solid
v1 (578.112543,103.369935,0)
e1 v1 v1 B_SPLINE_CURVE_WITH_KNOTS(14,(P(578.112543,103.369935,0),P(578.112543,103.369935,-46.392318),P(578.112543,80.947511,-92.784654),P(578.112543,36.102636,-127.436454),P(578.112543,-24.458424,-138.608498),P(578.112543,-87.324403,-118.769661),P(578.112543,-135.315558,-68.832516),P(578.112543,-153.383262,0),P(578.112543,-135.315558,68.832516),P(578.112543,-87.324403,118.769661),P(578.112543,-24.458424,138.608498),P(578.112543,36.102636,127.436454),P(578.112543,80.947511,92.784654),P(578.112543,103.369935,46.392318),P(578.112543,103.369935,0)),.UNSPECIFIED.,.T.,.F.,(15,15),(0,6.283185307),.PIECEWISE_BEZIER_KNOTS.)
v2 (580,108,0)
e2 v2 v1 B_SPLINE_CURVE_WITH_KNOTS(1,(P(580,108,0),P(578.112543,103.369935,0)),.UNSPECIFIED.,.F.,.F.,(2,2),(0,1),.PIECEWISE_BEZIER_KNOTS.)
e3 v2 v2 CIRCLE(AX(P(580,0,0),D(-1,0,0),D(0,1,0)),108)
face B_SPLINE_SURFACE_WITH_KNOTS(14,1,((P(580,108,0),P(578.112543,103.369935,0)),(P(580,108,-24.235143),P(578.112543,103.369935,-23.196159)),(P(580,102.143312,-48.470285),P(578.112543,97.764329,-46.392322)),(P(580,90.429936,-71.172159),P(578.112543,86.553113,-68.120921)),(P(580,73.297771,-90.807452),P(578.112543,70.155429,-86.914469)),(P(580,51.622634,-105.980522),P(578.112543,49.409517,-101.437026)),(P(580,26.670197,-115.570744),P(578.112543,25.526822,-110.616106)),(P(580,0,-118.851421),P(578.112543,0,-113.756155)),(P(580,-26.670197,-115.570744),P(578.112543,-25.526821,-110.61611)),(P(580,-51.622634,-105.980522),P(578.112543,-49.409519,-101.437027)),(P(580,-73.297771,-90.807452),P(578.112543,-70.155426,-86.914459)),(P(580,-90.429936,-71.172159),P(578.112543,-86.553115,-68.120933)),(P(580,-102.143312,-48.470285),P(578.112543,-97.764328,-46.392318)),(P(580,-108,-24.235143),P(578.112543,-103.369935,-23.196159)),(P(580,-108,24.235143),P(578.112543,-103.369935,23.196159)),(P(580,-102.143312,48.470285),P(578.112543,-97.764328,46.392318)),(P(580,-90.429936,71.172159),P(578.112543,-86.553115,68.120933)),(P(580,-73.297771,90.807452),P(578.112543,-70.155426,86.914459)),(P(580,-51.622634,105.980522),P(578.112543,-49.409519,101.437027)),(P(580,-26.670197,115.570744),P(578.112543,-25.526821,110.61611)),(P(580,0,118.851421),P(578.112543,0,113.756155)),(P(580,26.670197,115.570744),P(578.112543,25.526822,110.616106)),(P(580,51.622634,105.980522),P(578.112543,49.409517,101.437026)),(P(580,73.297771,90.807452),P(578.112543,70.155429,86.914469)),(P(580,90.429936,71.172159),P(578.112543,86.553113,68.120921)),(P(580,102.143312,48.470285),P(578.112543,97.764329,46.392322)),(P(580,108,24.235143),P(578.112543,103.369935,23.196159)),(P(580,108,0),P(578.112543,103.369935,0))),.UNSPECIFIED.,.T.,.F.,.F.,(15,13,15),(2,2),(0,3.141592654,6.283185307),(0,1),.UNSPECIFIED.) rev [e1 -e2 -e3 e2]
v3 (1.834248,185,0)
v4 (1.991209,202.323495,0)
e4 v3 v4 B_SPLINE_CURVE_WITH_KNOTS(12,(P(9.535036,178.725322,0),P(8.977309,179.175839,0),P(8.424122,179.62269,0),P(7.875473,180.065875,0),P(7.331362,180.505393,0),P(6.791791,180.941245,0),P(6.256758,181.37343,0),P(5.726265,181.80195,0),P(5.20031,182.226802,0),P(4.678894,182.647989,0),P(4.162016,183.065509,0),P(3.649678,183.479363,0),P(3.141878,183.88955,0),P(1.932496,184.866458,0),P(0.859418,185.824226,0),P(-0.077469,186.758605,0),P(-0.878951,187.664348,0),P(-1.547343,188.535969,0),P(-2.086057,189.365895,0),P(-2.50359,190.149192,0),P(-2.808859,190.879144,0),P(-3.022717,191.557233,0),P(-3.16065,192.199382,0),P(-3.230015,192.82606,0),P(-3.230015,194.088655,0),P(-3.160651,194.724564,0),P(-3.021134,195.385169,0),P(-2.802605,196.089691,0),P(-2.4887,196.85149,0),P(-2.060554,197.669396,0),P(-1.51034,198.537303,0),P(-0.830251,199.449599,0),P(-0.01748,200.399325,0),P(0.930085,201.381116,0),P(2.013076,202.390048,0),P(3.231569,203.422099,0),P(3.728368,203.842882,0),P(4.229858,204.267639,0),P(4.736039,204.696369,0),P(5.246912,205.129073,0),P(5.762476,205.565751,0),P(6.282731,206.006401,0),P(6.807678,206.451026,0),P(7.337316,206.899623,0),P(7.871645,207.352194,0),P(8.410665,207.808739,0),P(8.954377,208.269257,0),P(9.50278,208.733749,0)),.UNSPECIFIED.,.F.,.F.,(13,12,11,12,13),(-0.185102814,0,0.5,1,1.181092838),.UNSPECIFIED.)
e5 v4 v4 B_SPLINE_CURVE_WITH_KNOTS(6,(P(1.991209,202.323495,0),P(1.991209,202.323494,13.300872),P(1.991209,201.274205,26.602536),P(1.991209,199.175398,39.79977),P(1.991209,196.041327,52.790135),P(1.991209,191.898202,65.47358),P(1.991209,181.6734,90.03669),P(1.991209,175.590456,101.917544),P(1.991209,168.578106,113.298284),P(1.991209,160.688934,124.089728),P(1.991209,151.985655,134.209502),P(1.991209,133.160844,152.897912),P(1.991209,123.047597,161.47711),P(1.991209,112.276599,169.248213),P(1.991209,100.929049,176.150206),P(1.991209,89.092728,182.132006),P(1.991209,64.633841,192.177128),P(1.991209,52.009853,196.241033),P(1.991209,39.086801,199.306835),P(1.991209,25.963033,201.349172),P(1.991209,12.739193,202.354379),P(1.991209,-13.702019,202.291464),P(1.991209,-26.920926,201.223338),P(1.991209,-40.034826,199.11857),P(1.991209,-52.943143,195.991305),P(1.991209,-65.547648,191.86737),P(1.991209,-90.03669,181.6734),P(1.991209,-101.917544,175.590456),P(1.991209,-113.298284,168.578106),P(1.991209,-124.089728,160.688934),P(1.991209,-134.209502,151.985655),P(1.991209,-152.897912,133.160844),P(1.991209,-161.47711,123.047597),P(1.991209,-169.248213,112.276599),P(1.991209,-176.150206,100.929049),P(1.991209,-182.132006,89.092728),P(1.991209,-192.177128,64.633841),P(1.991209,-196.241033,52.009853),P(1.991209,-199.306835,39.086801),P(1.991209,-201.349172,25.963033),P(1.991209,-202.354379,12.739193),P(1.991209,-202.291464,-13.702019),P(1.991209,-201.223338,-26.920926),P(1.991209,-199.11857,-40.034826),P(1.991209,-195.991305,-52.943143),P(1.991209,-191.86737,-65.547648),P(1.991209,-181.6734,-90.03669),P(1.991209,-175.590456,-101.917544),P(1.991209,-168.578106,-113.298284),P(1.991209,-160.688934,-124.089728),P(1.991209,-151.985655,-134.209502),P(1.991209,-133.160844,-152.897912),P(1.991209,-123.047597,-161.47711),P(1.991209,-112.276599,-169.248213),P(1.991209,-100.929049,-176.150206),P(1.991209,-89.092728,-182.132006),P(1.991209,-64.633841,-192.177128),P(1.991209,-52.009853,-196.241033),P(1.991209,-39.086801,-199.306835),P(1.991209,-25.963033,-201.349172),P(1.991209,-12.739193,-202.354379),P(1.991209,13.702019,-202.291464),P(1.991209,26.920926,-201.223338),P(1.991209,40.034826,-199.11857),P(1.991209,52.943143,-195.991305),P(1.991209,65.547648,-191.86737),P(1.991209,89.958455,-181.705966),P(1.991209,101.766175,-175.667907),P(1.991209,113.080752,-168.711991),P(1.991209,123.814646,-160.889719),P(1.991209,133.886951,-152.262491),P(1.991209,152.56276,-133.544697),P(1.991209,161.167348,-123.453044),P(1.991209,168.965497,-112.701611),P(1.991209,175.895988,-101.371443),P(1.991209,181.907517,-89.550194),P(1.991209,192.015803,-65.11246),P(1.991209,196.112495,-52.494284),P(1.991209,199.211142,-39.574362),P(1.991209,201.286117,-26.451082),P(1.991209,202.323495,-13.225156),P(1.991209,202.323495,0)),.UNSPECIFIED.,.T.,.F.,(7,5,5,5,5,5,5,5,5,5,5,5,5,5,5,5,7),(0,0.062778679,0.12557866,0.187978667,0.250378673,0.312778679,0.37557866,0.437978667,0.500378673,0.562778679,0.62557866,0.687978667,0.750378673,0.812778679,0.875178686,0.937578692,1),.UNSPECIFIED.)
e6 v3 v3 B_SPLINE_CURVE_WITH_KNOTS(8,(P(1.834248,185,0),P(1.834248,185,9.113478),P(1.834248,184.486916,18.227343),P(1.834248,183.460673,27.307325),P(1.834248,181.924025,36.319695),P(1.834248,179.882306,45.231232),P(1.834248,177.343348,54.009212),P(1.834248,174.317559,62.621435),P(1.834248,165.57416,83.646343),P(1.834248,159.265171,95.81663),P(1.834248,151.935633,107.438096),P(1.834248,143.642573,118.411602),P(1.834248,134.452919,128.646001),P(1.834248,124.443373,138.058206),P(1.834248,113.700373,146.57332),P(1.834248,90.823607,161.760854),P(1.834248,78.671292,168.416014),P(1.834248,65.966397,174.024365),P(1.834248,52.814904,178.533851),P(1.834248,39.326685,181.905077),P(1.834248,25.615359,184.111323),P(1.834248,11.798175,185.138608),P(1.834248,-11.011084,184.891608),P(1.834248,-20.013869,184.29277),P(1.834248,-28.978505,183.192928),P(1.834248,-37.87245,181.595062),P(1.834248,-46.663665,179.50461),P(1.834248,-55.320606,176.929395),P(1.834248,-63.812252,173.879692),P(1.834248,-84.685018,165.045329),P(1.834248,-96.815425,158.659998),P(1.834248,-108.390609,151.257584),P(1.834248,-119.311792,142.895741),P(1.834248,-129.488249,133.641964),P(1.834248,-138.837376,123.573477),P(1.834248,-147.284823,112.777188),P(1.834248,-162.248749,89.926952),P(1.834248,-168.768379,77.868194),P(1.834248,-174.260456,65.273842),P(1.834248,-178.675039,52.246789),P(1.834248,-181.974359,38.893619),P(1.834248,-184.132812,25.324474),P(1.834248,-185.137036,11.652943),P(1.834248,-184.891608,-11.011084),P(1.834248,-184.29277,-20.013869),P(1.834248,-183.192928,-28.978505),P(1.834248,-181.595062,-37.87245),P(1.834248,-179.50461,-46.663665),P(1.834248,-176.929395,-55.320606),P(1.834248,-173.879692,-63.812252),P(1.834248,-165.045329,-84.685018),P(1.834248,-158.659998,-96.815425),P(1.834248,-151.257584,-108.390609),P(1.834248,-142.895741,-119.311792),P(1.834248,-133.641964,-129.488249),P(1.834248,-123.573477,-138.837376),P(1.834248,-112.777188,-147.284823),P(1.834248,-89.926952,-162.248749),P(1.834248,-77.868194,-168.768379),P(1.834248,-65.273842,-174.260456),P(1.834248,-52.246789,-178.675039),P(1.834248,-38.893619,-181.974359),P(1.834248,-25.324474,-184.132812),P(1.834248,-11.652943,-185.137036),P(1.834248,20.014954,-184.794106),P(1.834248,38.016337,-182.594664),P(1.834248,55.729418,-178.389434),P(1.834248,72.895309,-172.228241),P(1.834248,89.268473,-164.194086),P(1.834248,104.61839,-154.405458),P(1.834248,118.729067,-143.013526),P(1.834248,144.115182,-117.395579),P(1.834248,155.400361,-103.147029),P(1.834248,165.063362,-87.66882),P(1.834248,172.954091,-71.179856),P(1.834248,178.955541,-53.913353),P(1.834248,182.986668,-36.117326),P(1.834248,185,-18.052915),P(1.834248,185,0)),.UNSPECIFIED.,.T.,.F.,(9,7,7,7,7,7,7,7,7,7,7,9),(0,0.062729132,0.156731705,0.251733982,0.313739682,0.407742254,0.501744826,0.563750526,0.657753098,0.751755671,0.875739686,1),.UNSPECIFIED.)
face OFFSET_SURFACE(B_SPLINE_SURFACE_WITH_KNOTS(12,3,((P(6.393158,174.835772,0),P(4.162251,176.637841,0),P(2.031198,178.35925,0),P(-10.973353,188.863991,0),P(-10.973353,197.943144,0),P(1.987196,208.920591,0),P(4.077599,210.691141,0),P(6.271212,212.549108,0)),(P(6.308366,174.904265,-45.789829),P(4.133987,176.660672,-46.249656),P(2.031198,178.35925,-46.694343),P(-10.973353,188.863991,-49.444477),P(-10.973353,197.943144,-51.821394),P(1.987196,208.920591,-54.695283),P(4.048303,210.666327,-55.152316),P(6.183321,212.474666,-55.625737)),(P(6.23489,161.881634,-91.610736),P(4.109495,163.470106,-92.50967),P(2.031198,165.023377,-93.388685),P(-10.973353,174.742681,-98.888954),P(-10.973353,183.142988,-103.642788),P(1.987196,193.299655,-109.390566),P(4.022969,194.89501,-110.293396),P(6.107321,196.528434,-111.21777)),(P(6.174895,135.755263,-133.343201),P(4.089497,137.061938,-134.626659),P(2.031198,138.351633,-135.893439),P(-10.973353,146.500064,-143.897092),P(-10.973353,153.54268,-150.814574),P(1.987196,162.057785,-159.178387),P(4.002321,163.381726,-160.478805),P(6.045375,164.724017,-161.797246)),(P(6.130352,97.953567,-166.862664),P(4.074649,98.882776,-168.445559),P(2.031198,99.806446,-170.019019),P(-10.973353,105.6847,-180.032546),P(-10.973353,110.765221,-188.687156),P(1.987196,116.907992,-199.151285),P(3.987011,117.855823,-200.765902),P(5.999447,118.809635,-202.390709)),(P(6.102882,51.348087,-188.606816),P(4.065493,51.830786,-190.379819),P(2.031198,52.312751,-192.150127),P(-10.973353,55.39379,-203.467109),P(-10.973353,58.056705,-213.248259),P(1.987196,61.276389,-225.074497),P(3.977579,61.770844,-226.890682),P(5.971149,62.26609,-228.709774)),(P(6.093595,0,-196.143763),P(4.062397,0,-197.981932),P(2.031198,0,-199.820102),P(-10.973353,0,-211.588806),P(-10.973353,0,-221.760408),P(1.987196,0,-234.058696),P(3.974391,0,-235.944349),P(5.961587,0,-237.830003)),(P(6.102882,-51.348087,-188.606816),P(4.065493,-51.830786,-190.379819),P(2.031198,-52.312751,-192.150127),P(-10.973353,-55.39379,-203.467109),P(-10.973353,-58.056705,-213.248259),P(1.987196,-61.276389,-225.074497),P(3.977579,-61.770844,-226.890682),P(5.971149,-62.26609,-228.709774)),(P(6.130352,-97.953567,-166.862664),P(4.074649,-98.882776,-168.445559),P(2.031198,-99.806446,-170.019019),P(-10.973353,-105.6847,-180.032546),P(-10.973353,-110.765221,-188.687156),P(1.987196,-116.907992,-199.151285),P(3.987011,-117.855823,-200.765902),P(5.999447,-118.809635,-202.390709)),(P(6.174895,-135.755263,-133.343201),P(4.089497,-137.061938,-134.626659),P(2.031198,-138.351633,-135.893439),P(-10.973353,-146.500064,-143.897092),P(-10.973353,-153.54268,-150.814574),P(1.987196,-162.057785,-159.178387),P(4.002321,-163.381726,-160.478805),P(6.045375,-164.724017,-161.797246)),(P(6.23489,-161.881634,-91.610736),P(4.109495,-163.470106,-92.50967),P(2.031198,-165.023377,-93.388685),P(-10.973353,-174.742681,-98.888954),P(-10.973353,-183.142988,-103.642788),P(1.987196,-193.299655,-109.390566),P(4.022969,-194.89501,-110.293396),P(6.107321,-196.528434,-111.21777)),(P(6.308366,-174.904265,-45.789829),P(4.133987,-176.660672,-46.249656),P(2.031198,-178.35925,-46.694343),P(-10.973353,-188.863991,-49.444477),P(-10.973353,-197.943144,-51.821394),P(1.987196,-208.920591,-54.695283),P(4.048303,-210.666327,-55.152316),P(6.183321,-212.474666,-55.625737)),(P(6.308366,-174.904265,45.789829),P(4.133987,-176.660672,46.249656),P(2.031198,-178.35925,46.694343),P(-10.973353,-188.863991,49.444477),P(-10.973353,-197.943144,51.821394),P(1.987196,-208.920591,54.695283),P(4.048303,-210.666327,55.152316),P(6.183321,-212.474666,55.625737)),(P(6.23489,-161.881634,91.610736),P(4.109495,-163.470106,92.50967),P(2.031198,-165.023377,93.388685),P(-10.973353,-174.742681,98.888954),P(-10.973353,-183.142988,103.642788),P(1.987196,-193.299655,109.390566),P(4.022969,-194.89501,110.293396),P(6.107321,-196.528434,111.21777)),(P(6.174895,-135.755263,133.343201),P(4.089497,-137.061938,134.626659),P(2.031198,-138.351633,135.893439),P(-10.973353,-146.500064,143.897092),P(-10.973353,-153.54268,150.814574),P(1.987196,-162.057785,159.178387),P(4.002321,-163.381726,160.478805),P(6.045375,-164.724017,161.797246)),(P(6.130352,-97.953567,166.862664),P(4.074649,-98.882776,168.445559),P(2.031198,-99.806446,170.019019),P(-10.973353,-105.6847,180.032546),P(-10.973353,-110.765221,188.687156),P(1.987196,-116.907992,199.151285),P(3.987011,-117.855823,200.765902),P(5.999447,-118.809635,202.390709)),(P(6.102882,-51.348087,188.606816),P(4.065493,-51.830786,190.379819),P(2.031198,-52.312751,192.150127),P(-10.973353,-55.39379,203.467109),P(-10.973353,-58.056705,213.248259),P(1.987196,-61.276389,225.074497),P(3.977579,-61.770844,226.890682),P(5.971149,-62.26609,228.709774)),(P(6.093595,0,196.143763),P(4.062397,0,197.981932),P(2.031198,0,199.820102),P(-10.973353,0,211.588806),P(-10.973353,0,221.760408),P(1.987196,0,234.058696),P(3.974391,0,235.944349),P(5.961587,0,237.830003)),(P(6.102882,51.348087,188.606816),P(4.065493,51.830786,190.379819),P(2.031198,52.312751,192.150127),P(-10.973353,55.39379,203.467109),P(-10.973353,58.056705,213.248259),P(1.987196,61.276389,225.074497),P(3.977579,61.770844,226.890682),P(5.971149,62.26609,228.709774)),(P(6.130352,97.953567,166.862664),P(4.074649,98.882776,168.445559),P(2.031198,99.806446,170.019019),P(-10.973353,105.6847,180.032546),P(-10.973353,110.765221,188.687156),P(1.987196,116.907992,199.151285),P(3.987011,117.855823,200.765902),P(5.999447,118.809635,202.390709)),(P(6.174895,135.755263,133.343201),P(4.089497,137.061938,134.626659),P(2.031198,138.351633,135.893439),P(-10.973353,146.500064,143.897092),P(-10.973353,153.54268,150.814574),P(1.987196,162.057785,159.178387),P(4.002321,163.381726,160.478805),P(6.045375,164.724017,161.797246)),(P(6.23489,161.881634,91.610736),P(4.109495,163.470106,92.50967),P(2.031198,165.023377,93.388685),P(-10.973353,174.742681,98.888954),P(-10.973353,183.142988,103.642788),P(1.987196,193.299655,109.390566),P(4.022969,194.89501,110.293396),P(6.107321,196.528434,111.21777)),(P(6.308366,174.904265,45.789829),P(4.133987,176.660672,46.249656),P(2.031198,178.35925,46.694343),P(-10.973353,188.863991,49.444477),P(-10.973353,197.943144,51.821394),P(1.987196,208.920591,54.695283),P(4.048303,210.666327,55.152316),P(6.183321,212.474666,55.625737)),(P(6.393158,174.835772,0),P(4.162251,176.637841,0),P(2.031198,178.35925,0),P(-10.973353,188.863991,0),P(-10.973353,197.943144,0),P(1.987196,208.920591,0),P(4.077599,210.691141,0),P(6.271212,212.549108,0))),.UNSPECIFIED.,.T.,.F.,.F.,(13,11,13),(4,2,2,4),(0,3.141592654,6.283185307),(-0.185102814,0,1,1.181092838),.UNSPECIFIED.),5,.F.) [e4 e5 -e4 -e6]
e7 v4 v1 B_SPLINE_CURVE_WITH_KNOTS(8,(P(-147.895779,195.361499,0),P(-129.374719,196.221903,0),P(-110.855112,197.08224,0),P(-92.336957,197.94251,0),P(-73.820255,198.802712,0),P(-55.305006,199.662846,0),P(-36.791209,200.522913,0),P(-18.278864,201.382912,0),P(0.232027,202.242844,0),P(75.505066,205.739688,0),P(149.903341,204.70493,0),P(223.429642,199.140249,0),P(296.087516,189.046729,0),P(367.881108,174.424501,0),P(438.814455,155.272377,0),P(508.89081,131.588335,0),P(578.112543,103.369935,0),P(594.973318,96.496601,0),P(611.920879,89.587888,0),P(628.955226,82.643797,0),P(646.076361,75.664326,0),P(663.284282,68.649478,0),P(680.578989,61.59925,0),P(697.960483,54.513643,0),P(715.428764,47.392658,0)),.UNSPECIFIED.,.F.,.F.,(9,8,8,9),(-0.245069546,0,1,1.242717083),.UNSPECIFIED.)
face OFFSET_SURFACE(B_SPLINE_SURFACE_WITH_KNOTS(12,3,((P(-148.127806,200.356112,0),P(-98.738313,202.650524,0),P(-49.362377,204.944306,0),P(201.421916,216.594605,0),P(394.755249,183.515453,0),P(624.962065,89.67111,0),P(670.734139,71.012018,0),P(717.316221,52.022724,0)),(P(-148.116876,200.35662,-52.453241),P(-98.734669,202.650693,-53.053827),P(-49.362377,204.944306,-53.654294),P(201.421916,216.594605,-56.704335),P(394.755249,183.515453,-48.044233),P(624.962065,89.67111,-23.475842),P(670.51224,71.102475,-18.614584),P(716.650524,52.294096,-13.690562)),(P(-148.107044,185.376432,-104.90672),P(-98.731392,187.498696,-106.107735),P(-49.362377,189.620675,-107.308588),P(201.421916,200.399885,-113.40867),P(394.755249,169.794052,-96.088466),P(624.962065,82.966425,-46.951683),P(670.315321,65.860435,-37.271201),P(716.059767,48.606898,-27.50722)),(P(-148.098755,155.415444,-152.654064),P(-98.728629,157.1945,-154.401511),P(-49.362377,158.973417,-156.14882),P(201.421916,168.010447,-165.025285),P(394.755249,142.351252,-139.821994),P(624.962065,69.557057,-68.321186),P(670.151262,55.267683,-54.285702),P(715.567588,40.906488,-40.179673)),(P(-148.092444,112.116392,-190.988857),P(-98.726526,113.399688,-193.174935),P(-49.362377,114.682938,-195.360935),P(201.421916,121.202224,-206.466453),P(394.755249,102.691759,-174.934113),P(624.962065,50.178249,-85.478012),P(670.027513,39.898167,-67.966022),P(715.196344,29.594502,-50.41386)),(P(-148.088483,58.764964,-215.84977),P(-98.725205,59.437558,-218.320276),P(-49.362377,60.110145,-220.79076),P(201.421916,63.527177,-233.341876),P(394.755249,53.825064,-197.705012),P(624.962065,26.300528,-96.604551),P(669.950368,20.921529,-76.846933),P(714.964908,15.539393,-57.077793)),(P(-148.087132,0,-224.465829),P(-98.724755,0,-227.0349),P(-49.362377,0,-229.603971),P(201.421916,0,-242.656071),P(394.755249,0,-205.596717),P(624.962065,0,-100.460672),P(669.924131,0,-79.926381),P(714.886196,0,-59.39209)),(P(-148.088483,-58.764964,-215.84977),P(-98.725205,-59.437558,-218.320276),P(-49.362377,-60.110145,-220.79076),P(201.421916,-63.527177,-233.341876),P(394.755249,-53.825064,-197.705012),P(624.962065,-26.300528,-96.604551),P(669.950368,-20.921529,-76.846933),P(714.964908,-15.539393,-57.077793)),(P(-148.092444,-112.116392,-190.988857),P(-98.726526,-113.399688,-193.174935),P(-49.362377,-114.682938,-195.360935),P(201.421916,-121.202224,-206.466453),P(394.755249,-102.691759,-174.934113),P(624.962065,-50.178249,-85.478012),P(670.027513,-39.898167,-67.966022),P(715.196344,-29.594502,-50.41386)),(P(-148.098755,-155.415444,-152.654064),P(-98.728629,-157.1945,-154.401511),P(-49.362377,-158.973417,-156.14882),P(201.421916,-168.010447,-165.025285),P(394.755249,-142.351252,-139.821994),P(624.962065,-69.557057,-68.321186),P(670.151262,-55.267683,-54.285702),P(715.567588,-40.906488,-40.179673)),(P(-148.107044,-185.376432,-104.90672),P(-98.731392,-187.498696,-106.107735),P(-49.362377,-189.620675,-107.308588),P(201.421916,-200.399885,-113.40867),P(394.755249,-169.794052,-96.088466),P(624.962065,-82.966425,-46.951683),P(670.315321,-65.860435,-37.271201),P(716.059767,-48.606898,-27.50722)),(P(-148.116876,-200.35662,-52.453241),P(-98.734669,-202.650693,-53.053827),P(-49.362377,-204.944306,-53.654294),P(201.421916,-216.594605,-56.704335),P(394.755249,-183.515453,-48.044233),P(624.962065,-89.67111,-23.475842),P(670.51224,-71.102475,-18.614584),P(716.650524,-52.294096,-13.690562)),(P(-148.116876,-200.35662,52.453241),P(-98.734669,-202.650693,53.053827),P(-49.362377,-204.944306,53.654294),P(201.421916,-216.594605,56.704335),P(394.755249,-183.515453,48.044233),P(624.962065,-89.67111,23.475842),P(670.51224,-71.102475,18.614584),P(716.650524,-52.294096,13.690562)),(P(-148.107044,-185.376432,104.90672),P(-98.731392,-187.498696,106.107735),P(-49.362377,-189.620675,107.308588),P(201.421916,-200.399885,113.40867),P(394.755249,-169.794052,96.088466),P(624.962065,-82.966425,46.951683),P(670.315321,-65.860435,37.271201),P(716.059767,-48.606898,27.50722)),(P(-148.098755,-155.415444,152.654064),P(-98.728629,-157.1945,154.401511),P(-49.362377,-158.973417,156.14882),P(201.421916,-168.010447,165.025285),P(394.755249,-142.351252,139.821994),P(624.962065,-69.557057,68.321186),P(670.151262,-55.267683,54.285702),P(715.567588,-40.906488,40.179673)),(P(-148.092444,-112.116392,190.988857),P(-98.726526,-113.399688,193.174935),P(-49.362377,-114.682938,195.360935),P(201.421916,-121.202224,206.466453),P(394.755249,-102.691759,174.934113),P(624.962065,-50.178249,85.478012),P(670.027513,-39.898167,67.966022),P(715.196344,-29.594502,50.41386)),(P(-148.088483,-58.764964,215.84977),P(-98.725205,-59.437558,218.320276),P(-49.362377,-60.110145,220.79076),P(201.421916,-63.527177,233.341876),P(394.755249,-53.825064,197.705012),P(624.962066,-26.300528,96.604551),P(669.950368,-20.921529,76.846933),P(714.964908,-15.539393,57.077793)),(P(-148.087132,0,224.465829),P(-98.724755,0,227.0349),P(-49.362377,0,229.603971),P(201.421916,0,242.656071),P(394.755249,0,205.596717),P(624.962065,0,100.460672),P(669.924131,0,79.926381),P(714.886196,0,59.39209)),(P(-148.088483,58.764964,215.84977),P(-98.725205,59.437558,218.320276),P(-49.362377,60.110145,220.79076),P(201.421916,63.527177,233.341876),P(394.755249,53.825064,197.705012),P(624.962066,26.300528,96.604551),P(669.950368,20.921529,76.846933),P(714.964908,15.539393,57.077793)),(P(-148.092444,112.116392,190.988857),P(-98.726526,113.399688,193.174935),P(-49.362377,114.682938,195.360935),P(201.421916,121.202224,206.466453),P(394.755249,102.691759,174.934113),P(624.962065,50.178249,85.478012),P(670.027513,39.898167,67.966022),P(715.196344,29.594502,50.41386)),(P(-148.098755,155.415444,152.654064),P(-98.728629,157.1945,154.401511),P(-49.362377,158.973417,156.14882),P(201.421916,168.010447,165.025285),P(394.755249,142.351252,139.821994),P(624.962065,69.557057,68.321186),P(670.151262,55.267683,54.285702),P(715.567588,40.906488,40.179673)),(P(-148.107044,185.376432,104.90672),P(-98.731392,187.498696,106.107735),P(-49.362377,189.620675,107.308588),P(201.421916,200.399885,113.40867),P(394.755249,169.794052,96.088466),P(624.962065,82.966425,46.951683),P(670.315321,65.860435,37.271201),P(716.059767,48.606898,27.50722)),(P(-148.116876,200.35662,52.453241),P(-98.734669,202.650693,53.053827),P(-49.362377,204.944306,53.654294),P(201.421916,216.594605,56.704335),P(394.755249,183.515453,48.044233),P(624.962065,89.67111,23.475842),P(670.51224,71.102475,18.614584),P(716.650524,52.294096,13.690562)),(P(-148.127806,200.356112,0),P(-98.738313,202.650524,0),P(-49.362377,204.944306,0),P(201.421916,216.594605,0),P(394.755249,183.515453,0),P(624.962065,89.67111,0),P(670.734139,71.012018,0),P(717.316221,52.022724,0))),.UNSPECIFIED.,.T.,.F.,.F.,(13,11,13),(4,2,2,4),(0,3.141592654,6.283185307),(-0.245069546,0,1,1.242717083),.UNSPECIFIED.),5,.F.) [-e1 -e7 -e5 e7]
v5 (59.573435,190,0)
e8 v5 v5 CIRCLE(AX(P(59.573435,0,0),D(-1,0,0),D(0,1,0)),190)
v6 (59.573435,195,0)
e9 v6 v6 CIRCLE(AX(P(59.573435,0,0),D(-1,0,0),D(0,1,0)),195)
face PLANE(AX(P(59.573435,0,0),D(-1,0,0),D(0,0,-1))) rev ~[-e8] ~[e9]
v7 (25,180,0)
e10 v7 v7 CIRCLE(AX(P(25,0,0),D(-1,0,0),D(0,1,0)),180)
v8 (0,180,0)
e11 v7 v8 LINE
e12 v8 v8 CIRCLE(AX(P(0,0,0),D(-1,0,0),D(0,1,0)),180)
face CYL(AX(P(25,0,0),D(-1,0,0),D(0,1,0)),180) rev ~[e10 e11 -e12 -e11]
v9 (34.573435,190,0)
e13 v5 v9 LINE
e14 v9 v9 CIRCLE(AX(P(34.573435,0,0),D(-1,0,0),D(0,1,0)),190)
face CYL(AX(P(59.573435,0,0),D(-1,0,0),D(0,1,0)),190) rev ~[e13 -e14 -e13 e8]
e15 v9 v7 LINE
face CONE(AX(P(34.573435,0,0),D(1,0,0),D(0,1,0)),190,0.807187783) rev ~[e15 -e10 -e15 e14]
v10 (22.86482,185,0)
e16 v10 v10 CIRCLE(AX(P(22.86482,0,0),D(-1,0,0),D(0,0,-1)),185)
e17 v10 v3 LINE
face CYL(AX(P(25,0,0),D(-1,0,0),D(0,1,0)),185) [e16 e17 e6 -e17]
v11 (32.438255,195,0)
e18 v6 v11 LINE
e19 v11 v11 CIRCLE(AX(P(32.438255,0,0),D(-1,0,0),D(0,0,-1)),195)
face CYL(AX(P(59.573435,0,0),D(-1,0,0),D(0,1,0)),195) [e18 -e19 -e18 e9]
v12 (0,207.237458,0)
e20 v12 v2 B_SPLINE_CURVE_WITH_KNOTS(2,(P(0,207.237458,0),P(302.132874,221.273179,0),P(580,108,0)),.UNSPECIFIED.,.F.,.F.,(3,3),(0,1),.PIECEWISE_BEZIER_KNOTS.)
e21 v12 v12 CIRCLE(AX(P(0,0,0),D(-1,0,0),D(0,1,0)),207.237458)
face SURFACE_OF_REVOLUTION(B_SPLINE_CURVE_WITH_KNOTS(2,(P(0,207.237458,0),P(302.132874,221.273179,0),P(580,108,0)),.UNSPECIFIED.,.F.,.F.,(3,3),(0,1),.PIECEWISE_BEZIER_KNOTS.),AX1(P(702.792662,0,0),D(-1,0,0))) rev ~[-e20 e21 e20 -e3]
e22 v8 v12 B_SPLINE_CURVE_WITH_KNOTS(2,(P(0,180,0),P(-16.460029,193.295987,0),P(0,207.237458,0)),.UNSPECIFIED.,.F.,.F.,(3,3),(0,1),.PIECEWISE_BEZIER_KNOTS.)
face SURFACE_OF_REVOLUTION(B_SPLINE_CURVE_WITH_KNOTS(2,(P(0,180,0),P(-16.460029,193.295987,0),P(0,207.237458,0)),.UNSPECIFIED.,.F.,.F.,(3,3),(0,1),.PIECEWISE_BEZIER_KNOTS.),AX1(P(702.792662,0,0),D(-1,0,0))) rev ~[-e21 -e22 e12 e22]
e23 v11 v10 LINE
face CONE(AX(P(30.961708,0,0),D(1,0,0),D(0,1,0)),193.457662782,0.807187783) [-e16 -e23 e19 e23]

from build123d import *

# Parameters (mm, degrees)
ESPESSAMENTO1_T1 = 5


with BuildPart() as body_1:
    # Superf_cie-Revolu_o1: a surface, the sketch's curves turned about an axis
    with BuildLine(Plane.XY, mode=Mode.PRIVATE) as superf_cie_revolu_o1_1_path:
        Line((59.57343479, 190), (34.57343479, 190))
        Line((34.57343479, 190), (25, 180))
        Line((25, 180), (0, 180))
        add(Edge.make_bspline(
            [(0, 180), (-16.460029113, 193.295986939), (0, 207.237457751)],
            knots=[0, 0, 0, 1, 1, 1], degree=2))
        add(Edge.make_bspline(
            [(0, 207.237457751), (302.132873789, 221.273179142), (580, 108)],
            knots=[0, 0, 0, 1, 1, 1], degree=2))
    superf_cie_revolu_o1_1 = Shell.revolve(superf_cie_revolu_o1_1_path.wire(), 360, Axis((702.79266214, 0, 0), (-1, 0, 0)))
    add(Solid.thicken(superf_cie_revolu_o1_1, ESPESSAMENTO1_T1))


solid = body_1.part
